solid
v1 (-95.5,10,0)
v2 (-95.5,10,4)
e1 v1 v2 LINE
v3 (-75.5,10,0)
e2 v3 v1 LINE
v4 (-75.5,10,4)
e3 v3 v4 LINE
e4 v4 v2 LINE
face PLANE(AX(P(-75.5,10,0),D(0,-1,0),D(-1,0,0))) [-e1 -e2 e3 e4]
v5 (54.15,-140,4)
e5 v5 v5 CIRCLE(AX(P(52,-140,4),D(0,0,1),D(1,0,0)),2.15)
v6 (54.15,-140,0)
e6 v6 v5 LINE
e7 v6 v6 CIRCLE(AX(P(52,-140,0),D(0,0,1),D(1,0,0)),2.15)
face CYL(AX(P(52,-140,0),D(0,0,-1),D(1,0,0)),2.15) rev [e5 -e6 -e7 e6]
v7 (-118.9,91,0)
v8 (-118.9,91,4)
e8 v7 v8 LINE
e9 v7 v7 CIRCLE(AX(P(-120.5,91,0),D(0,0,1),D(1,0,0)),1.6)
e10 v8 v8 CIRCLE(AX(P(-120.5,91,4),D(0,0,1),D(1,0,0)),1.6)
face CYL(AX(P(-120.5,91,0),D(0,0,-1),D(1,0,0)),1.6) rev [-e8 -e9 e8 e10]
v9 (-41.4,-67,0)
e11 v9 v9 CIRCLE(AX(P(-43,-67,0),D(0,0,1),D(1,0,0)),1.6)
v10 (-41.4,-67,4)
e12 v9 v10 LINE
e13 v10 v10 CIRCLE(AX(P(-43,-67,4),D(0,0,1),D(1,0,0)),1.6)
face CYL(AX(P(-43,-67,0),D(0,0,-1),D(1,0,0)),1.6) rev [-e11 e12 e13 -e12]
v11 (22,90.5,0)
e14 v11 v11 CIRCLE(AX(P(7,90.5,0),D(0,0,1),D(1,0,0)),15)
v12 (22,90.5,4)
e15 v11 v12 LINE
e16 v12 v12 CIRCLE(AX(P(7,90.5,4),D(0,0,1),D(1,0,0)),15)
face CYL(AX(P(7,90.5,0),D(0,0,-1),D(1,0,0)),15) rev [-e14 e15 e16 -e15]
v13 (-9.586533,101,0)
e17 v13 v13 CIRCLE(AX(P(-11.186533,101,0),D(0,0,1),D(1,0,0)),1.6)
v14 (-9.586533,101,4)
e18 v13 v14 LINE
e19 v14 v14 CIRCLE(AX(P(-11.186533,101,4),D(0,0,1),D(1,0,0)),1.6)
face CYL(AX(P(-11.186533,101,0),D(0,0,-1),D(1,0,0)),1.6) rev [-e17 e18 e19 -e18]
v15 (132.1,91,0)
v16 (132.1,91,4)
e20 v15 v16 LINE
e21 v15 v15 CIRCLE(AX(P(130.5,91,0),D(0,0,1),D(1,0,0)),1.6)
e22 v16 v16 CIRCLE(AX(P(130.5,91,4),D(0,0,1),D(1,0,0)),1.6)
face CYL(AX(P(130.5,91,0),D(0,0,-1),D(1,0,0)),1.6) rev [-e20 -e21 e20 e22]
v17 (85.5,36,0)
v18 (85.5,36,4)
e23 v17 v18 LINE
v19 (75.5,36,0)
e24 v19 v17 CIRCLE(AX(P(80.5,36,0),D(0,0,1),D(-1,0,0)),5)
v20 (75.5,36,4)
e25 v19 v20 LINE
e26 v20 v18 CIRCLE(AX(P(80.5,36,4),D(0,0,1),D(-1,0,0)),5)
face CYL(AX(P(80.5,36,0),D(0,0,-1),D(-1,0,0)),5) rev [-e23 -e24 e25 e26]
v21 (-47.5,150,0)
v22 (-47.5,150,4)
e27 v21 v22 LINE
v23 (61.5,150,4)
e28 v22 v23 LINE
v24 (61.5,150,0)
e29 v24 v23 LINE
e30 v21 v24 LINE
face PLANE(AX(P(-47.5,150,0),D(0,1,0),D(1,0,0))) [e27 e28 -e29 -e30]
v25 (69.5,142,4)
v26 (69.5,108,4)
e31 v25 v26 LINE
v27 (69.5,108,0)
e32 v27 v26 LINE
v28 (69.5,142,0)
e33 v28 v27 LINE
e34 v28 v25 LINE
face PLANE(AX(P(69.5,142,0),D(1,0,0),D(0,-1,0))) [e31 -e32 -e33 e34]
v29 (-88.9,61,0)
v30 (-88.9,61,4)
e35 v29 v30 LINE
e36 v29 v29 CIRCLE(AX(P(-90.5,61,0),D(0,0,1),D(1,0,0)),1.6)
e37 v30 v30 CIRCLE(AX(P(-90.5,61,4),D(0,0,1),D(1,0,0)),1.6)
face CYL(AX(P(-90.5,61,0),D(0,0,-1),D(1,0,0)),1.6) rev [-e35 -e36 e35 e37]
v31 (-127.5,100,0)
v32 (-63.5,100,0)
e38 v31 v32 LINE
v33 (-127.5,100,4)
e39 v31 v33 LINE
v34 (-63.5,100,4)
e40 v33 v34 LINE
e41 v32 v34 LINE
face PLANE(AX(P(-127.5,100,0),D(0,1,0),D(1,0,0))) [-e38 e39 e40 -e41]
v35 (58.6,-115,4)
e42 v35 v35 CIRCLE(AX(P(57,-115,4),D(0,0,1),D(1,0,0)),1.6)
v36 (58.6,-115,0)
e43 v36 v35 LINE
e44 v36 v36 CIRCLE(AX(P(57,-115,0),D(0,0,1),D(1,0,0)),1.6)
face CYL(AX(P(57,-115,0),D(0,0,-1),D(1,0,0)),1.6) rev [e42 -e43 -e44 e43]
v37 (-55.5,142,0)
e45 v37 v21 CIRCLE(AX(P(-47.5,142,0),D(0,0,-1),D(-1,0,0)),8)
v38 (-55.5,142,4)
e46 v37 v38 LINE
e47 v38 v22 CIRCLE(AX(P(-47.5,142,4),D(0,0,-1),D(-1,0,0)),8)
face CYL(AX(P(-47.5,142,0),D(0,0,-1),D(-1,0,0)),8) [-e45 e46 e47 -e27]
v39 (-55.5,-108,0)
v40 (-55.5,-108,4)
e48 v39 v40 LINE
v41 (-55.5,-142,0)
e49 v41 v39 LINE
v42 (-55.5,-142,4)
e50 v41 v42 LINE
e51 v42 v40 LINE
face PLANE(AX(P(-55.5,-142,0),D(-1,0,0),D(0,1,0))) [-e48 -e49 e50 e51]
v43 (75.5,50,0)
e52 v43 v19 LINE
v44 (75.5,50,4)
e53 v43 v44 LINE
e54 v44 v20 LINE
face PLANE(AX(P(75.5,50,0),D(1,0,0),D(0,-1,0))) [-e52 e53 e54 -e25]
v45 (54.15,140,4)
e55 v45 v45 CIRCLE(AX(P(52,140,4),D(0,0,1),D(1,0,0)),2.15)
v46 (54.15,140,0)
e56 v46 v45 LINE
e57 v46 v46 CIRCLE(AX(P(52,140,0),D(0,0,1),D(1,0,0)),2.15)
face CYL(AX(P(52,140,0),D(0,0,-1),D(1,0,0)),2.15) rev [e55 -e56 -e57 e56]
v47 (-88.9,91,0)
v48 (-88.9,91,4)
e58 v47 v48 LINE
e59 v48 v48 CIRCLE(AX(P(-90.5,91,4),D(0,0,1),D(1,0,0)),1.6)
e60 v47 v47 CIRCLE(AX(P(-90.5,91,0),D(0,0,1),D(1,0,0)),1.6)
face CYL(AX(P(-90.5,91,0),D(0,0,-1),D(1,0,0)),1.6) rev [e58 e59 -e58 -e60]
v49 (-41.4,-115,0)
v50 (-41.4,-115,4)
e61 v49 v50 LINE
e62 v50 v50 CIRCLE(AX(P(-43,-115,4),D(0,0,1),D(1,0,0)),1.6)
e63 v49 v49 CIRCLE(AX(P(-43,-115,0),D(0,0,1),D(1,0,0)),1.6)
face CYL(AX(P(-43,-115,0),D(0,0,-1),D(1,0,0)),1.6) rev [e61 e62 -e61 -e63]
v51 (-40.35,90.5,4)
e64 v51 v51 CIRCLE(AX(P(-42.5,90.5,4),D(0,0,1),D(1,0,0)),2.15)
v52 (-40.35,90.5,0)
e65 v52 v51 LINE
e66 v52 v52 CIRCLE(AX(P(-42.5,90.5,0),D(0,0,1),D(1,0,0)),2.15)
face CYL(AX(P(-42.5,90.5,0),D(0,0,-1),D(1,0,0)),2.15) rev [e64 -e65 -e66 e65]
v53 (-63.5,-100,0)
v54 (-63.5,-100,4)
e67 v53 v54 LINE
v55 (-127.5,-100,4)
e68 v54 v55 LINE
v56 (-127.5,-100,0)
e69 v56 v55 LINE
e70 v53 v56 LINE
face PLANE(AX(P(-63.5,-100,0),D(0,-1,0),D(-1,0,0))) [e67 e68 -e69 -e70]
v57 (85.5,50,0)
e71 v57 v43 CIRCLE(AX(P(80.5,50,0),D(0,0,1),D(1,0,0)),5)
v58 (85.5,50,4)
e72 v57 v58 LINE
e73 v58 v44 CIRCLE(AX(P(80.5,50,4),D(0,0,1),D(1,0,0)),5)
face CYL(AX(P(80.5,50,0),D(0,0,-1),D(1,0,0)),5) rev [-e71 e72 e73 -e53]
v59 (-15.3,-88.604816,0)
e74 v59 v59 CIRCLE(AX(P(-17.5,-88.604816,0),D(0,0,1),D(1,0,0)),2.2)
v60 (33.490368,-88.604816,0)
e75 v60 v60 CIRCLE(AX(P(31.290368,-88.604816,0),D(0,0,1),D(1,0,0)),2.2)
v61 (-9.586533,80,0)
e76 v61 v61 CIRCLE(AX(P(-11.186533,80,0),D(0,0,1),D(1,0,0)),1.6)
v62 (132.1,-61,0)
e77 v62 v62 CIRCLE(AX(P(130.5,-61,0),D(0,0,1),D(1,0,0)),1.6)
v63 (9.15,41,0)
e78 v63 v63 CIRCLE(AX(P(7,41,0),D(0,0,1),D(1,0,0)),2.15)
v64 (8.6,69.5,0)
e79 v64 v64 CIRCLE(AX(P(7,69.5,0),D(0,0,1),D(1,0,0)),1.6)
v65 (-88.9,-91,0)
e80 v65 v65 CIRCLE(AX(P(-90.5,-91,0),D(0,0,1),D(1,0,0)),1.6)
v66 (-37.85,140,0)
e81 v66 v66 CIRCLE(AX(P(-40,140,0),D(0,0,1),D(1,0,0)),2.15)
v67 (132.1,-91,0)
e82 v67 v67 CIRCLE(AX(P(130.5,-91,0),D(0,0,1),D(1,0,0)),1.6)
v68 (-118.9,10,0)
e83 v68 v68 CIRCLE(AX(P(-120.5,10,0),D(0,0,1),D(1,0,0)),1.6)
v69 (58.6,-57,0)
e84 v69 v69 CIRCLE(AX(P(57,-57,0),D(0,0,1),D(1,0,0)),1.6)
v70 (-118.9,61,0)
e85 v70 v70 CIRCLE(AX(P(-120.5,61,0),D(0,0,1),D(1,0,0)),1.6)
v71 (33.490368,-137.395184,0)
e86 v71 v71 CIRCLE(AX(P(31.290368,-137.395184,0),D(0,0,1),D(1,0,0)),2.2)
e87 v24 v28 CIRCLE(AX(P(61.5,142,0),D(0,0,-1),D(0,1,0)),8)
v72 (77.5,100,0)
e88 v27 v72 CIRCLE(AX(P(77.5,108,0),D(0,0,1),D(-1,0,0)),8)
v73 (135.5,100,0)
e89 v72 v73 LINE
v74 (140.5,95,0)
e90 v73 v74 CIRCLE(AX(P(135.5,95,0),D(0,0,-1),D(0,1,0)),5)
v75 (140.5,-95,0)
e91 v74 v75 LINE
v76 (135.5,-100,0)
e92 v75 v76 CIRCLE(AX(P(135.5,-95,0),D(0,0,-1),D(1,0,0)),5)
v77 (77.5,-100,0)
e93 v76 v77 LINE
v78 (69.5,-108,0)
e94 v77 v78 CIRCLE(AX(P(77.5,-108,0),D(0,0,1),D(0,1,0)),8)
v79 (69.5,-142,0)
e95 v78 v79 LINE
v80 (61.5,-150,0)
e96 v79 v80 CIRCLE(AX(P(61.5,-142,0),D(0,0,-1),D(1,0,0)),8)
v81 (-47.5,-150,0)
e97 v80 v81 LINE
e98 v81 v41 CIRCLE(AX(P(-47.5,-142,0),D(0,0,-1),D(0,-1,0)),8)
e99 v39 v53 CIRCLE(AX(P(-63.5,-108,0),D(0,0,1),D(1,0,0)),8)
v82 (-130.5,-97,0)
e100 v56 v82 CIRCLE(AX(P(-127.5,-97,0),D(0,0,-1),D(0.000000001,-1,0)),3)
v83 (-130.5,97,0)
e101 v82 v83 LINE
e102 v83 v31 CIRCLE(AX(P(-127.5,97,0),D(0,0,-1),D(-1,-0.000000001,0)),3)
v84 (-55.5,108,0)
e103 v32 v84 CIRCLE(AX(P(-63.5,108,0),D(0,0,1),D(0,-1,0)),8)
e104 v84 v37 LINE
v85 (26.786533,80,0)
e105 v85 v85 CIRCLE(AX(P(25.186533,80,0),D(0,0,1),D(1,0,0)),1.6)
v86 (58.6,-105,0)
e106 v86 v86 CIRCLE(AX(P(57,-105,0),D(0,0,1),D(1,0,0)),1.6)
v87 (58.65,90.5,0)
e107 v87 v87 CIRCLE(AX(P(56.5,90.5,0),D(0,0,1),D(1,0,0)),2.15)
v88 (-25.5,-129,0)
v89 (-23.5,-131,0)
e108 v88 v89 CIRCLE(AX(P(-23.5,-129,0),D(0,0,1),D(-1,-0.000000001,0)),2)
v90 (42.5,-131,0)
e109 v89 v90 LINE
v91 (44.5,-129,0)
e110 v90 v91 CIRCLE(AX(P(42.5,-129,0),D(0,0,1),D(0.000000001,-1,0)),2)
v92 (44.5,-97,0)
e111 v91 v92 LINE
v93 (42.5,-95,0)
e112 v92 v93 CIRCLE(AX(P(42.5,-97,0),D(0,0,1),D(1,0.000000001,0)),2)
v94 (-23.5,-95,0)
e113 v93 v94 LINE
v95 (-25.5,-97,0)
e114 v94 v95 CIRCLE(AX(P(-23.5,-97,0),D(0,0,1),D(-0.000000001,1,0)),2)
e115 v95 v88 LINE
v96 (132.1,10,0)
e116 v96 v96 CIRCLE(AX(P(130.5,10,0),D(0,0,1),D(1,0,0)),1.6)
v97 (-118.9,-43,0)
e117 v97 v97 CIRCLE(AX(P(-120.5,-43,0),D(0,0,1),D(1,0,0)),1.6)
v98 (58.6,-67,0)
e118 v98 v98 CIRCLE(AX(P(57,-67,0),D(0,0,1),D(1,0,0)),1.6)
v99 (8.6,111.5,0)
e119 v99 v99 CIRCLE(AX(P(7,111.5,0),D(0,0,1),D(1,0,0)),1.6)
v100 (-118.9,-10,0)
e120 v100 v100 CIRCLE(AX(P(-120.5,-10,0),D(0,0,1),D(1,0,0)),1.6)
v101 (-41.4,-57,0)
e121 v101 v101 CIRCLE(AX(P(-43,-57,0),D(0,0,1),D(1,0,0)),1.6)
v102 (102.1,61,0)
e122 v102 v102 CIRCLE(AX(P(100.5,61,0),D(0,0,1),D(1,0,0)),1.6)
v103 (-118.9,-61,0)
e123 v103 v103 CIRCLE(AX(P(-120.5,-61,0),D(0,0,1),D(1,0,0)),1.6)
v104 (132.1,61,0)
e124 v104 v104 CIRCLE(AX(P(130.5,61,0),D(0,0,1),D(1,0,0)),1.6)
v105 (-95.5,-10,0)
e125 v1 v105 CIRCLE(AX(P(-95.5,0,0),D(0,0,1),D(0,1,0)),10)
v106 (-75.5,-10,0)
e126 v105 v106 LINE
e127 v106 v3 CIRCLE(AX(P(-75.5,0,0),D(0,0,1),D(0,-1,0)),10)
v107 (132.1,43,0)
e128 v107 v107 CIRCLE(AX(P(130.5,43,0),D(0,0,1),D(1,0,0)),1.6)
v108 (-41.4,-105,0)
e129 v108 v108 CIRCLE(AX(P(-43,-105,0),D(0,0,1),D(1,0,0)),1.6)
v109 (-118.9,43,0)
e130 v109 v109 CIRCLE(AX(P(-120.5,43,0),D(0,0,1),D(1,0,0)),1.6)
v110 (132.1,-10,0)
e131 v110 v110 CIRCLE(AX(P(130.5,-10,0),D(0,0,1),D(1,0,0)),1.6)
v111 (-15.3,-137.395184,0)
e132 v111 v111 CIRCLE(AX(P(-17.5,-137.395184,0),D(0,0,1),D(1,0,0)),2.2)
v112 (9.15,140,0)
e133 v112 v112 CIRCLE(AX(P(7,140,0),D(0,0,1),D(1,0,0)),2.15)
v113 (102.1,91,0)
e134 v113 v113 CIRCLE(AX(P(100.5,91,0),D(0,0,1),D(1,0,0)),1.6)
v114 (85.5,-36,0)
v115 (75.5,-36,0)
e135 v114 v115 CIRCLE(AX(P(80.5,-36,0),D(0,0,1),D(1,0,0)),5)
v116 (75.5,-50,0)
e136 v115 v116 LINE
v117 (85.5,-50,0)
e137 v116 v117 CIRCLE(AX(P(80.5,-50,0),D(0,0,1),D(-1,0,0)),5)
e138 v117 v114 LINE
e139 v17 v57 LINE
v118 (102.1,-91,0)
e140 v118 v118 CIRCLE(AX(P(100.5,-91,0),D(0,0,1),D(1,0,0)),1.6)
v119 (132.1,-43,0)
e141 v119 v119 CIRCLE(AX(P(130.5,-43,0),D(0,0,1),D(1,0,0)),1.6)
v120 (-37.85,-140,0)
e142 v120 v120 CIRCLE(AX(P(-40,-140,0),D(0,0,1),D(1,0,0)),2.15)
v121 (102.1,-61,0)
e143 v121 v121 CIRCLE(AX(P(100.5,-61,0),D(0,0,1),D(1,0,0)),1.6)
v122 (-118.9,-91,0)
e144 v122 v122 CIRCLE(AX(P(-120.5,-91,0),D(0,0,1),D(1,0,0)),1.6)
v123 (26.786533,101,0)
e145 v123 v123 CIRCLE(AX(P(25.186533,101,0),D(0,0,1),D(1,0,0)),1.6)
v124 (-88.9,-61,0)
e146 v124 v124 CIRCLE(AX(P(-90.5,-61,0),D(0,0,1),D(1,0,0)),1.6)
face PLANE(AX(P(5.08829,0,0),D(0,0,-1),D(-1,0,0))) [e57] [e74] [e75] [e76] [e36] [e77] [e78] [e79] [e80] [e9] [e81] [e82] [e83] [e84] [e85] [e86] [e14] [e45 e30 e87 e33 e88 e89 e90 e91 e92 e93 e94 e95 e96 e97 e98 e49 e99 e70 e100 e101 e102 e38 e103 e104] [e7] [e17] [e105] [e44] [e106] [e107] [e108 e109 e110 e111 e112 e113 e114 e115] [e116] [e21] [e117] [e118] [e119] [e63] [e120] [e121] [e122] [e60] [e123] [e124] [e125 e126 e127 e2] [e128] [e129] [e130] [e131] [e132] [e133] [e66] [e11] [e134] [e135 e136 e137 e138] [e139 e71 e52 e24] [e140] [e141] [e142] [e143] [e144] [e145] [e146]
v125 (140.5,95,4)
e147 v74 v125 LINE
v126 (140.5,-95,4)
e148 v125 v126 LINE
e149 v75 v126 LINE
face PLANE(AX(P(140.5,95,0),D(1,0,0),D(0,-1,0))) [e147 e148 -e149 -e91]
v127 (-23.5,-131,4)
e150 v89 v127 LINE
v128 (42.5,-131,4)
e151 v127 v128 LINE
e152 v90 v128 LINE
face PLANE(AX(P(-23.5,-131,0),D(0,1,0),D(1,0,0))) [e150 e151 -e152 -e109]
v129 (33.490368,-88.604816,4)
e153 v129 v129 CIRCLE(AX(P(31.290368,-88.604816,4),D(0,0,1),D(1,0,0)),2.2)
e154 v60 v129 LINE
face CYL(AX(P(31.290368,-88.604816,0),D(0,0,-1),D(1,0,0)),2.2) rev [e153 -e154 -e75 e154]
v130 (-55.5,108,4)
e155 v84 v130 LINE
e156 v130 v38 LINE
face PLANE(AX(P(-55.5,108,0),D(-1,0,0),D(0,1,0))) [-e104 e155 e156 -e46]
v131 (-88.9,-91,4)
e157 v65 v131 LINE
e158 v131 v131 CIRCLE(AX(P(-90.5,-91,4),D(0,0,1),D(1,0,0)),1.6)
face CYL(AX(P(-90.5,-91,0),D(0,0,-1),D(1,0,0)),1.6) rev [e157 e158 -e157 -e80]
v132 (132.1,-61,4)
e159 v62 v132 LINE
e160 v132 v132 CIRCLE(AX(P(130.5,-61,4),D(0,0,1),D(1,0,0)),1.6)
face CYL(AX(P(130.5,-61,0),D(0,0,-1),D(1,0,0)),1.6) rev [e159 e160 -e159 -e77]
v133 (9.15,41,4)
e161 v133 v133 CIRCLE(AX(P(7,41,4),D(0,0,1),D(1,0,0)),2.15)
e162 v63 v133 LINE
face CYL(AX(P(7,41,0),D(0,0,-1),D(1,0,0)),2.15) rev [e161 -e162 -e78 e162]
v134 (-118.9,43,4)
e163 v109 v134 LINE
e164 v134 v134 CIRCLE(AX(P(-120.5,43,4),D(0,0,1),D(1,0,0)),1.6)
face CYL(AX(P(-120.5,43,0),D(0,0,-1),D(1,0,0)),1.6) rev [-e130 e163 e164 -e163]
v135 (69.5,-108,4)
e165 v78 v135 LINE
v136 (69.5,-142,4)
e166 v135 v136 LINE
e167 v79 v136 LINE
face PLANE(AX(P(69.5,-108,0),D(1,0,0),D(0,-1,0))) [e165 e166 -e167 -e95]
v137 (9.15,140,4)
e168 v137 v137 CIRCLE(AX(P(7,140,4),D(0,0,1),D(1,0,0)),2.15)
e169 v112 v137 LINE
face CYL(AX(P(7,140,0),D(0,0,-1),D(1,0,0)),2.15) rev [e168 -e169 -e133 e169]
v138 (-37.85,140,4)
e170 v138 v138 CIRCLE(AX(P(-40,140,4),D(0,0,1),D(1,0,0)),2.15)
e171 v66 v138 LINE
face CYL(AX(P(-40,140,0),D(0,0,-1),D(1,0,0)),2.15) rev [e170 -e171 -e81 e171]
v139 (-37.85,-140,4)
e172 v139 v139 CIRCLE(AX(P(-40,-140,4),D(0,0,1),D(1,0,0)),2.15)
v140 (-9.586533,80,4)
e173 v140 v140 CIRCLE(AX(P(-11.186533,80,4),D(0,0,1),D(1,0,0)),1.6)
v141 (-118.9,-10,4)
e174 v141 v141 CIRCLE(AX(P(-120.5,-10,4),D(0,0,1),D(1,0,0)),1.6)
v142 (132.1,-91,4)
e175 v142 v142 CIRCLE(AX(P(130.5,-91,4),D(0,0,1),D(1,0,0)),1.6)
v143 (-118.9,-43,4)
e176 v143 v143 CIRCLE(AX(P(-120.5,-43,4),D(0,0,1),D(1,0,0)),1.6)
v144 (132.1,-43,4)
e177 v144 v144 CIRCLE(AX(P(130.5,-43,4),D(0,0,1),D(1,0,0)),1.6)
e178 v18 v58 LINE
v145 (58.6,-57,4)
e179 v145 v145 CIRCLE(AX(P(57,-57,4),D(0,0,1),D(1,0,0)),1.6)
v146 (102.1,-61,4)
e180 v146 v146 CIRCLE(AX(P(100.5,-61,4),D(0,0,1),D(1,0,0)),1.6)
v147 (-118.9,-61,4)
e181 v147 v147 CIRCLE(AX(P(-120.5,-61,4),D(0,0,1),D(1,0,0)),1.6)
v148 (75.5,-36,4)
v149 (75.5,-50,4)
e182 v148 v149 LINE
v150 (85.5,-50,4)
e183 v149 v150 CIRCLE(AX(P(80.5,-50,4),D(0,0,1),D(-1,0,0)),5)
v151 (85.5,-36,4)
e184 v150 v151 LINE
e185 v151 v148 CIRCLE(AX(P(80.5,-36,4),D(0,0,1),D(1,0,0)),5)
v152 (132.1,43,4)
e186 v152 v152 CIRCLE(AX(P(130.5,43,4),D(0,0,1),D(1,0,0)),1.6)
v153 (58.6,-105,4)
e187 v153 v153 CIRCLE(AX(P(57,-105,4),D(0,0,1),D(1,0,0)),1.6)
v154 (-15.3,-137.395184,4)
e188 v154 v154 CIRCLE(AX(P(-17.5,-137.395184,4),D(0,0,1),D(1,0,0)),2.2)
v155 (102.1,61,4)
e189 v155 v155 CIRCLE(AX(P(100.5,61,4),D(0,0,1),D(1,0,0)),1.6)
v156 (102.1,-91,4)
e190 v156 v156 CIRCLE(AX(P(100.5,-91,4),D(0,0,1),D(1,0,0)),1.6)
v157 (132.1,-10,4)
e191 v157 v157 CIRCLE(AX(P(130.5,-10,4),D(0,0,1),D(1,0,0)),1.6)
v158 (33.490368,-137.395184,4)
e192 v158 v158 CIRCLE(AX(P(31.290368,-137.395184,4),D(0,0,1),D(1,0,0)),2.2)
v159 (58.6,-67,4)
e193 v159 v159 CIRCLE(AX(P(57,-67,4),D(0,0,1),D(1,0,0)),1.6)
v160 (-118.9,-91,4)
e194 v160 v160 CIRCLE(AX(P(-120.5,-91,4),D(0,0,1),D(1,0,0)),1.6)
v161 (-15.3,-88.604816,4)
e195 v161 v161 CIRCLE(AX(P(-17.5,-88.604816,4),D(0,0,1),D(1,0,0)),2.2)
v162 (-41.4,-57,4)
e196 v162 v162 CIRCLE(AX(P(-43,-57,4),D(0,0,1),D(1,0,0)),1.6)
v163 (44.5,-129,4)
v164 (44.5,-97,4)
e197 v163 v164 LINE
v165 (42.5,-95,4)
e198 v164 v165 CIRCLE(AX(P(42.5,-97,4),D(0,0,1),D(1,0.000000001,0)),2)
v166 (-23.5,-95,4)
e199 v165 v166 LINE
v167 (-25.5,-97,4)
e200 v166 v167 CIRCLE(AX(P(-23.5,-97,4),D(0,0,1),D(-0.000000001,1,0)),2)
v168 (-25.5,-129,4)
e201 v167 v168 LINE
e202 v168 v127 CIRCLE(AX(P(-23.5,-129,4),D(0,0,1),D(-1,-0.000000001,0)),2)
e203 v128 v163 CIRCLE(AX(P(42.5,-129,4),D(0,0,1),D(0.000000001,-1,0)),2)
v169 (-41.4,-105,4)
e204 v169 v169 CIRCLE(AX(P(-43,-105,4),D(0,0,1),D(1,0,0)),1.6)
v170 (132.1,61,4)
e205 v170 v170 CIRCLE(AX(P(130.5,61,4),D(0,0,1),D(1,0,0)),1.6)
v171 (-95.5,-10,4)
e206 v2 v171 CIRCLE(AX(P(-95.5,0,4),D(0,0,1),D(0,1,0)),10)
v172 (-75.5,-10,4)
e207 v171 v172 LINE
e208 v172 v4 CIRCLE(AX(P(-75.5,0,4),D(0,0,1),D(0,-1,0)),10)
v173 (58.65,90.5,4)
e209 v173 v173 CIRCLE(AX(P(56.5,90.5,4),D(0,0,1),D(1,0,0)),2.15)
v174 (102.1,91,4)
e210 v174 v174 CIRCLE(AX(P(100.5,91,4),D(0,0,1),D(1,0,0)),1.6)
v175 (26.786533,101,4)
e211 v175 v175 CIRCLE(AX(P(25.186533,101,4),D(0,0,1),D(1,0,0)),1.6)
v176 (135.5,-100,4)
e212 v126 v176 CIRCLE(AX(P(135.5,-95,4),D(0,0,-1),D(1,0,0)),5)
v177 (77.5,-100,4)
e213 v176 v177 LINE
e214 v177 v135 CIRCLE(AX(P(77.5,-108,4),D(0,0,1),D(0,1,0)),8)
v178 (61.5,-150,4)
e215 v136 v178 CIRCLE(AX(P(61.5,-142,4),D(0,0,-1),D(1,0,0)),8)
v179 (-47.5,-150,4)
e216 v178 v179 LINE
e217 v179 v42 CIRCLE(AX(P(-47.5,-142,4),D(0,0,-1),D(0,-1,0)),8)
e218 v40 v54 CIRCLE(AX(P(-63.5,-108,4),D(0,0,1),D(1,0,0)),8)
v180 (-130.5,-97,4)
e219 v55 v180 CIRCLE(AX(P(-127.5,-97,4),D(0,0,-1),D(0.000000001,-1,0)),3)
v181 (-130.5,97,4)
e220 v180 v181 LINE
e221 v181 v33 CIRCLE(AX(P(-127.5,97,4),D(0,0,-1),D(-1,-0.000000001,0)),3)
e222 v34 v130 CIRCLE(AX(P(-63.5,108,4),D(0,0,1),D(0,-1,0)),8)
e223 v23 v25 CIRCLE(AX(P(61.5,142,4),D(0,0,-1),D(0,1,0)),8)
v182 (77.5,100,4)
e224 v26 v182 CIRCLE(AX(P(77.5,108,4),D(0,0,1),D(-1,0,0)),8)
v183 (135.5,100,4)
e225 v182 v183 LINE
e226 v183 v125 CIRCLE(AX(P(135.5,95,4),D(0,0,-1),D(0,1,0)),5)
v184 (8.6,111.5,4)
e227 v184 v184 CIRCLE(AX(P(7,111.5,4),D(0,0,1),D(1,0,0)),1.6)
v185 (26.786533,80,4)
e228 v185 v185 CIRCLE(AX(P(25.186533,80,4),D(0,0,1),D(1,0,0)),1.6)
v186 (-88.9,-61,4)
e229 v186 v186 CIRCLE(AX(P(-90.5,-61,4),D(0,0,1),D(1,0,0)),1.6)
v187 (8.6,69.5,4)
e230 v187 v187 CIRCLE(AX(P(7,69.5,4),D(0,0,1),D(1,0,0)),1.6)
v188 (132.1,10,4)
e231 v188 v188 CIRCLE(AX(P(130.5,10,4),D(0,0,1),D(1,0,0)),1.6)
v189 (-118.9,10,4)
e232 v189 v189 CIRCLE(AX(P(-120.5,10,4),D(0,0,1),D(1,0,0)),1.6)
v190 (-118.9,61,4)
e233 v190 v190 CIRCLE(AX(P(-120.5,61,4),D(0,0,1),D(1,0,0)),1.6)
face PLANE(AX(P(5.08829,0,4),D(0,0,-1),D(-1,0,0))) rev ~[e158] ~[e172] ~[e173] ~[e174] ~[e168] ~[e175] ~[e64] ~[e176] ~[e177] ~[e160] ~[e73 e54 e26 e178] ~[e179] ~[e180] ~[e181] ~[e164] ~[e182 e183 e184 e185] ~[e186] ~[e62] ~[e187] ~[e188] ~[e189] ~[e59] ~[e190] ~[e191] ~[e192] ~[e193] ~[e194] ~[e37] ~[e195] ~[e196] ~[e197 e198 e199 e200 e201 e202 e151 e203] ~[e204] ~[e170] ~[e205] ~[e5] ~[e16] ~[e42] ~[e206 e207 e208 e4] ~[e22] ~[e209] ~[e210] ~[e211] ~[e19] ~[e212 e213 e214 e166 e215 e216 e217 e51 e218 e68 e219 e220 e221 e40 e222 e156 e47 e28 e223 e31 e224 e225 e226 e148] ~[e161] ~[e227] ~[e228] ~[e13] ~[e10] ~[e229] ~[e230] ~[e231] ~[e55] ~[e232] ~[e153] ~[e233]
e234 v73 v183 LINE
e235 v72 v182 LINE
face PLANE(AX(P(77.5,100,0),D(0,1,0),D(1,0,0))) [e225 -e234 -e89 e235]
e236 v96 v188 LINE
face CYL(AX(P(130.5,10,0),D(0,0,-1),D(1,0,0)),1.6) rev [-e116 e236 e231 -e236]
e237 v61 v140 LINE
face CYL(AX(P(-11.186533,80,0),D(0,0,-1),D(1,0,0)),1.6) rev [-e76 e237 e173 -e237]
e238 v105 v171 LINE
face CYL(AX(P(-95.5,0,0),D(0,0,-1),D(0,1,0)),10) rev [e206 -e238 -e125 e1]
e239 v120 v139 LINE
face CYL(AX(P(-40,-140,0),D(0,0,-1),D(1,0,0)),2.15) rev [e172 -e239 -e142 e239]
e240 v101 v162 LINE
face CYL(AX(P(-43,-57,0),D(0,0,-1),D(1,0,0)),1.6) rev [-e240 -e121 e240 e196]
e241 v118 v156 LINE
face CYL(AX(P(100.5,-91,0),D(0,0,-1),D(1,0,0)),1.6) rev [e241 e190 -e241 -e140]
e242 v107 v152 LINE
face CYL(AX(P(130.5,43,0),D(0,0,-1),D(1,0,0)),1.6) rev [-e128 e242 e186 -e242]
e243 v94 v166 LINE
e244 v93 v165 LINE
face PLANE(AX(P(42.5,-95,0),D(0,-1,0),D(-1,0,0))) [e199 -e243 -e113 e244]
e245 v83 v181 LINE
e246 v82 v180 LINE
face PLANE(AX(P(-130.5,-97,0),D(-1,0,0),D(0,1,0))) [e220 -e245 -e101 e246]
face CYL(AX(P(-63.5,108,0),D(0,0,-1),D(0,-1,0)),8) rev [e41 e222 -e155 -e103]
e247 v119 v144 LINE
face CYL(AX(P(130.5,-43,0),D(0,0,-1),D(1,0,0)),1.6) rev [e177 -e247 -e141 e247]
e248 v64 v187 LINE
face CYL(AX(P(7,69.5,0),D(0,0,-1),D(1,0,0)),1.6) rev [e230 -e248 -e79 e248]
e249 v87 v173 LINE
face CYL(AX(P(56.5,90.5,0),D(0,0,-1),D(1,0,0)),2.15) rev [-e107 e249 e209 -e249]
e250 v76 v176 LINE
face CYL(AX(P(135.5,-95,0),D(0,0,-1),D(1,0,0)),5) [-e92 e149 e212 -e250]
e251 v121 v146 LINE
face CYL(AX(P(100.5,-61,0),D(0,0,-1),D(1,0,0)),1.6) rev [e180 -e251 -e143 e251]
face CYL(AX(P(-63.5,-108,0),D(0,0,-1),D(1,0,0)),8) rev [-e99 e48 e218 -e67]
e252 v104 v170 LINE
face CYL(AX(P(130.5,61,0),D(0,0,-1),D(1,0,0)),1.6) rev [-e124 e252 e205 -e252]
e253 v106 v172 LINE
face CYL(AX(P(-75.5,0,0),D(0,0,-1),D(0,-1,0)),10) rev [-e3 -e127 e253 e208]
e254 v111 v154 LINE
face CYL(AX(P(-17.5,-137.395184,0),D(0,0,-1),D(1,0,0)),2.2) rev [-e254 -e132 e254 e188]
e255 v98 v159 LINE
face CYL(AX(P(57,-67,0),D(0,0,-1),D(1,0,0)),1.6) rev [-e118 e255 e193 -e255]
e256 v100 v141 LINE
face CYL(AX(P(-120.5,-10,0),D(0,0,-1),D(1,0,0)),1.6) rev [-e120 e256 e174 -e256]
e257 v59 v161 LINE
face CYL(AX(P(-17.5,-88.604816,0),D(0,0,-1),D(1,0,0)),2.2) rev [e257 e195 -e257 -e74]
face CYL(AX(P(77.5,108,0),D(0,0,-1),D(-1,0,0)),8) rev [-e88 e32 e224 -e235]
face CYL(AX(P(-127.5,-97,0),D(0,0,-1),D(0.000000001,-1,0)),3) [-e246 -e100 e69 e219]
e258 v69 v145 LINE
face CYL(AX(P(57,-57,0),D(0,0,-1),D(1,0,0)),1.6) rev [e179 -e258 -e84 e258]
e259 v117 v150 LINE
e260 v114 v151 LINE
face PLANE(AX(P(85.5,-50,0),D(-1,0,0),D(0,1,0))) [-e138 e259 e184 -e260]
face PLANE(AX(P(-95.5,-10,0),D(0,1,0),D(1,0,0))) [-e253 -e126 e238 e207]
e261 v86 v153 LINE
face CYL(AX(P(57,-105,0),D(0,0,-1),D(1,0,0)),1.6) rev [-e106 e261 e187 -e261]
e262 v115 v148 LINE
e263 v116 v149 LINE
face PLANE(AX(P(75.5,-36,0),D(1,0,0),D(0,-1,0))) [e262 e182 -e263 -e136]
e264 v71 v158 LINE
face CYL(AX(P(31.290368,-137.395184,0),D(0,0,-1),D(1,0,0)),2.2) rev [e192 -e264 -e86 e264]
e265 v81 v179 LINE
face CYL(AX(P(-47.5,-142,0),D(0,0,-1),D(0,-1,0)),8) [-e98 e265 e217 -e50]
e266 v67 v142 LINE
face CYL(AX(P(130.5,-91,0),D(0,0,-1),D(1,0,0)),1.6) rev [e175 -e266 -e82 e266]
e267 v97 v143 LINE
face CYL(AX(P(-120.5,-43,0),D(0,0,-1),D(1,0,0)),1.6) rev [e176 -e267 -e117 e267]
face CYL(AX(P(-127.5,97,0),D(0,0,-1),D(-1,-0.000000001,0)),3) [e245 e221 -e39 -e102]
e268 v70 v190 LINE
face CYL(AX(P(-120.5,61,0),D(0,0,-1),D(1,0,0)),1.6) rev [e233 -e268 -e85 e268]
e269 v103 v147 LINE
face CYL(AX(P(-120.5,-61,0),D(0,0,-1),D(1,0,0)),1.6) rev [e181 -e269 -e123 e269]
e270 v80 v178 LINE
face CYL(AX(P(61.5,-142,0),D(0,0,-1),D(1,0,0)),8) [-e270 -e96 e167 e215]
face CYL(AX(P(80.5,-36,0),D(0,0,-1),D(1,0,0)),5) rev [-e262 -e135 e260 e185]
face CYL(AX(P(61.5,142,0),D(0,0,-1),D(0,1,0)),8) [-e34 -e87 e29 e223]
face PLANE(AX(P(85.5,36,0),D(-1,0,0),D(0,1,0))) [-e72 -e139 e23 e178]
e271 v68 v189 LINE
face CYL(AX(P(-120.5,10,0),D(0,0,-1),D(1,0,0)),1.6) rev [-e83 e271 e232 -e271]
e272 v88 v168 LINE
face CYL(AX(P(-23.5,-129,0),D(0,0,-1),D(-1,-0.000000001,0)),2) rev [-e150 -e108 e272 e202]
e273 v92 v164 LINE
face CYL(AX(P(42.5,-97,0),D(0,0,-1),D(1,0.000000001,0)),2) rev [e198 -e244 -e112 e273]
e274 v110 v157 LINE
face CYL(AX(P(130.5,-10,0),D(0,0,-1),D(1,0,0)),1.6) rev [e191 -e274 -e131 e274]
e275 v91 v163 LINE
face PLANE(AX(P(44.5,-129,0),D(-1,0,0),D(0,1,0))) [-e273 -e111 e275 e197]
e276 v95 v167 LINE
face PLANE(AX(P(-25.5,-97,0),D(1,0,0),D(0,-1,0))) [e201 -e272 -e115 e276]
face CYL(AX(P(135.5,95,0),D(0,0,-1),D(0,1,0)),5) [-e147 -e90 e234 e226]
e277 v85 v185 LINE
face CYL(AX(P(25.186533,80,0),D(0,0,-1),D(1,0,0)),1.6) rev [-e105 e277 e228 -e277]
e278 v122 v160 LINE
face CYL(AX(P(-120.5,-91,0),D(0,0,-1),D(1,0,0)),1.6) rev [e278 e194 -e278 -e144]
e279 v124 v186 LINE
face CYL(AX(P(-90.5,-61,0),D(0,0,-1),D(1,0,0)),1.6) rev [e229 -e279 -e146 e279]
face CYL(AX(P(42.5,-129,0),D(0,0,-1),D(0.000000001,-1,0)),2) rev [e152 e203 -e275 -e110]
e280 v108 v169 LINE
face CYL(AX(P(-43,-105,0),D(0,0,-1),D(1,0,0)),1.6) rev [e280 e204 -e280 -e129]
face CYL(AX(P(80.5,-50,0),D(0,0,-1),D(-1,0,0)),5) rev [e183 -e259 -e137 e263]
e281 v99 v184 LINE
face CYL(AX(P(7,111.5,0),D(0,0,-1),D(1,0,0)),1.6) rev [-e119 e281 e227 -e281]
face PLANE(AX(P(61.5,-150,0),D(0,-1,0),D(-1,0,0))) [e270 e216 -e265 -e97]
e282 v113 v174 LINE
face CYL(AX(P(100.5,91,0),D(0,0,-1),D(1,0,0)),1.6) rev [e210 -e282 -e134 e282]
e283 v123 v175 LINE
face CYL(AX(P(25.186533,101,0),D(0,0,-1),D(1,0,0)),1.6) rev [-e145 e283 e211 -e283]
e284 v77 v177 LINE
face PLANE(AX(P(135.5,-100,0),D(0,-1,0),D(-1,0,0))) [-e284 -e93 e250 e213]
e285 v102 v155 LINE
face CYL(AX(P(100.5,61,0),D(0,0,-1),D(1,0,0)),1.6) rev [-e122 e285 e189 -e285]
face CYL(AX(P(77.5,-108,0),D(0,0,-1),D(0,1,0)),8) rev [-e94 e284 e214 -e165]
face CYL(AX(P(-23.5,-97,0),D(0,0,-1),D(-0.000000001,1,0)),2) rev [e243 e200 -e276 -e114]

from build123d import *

# Parameters (mm, degrees)
SKETCH_281X300_25_R   = 1.6
SKETCH_281X300_25_R_2 = 15
SKETCH_281X300_25_R_3 = 2.15
SKETCH_281X300_25_R_4 = 2.2
F_4MM_DEPTH           = 4


with BuildPart() as part:
    # 底板轮廓_281x300_安装孔外移25 → 凸台拉伸_4mm (new body)
    with BuildSketch(Plane.XY):
        with BuildLine():
            Line((-55.5, 108), (-55.5, 142))
            ThreePointArc((-55.5, 142), (-53.156854249, 147.656854249), (-47.5, 150))
            Line((-47.5, 150), (61.5, 150))
            ThreePointArc((61.5, 150), (67.156854249, 147.656854249), (69.5, 142))
            Line((69.5, 142), (69.5, 108))
            ThreePointArc((69.5, 108), (71.843145751, 102.343145751), (77.5, 100))
            Line((77.5, 100), (135.5, 100))
            ThreePointArc((135.5, 100), (139.035533906, 98.535533906), (140.5, 95))
            Line((140.5, 95), (140.5, -95))
            ThreePointArc((140.5, -95), (139.035533906, -98.535533906), (135.5, -100))
            Line((135.5, -100), (77.5, -100))
            ThreePointArc((77.5, -100), (71.843145751, -102.343145751), (69.5, -108))
            Line((69.5, -108), (69.5, -142))
            ThreePointArc((69.5, -142), (67.156854249, -147.656854249), (61.5, -150))
            Line((61.5, -150), (-47.5, -150))
            ThreePointArc((-47.5, -150), (-53.156854249, -147.656854249), (-55.5, -142))
            Line((-55.5, -142), (-55.5, -108))
            ThreePointArc((-55.5, -108), (-57.843145751, -102.343145751), (-63.5, -100))
            Line((-63.5, -100), (-127.5, -100))
            ThreePointArc((-127.5, -100), (-129.621320344, -99.121320344), (-130.5, -97))
            Line((-130.5, -97), (-130.5, -13))
            Line((-130.5, -13), (-130.5, 97))
            ThreePointArc((-130.5, 97), (-129.621320344, 99.121320344), (-127.5, 100))
            Line((-127.5, 100), (-63.5, 100))
            ThreePointArc((-63.5, 100), (-57.843145751, 102.343145751), (-55.5, 108))
        make_face()
        with Locations((100.5, -61)):
            Circle(SKETCH_281X300_25_R, mode=Mode.SUBTRACT)
        with Locations((130.5, -61)):
            Circle(SKETCH_281X300_25_R, mode=Mode.SUBTRACT)
        with Locations((100.5, 61)):
            Circle(SKETCH_281X300_25_R, mode=Mode.SUBTRACT)
        with Locations((7, 90.5)):
            Circle(SKETCH_281X300_25_R_2, mode=Mode.SUBTRACT)
        with Locations((7, 140)):
            Circle(SKETCH_281X300_25_R_3, mode=Mode.SUBTRACT)
        with Locations((-42.5, 90.5)):
            Circle(SKETCH_281X300_25_R_3, mode=Mode.SUBTRACT)
        with Locations((56.5, 90.5)):
            Circle(SKETCH_281X300_25_R_3, mode=Mode.SUBTRACT)
        with Locations((-40, 140)):
            Circle(SKETCH_281X300_25_R_3, mode=Mode.SUBTRACT)
        with Locations((130.5, 61)):
            Circle(SKETCH_281X300_25_R, mode=Mode.SUBTRACT)
        with Locations((7, 41)):
            Circle(SKETCH_281X300_25_R_3, mode=Mode.SUBTRACT)
        with Locations((31.290367902, -137.395183951)):
            Circle(SKETCH_281X300_25_R_4, mode=Mode.SUBTRACT)
        with Locations((-17.5, -137.395183951)):
            Circle(SKETCH_281X300_25_R_4, mode=Mode.SUBTRACT)
        with Locations((-17.5, -88.604816049)):
            Circle(SKETCH_281X300_25_R_4, mode=Mode.SUBTRACT)
        with Locations((31.290367902, -88.604816049)):
            Circle(SKETCH_281X300_25_R_4, mode=Mode.SUBTRACT)
        with Locations((7, 111.5)):
            Circle(SKETCH_281X300_25_R, mode=Mode.SUBTRACT)
        with Locations((25.186533479, 101)):
            Circle(SKETCH_281X300_25_R, mode=Mode.SUBTRACT)
        with Locations((100.5, -91)):
            Circle(SKETCH_281X300_25_R, mode=Mode.SUBTRACT)
        with Locations((25.186533479, 80)):
            Circle(SKETCH_281X300_25_R, mode=Mode.SUBTRACT)
        with Locations((100.5, 91)):
            Circle(SKETCH_281X300_25_R, mode=Mode.SUBTRACT)
        with Locations((7, 69.5)):
            Circle(SKETCH_281X300_25_R, mode=Mode.SUBTRACT)
        with Locations((130.5, 91)):
            Circle(SKETCH_281X300_25_R, mode=Mode.SUBTRACT)
        with Locations((130.5, -91)):
            Circle(SKETCH_281X300_25_R, mode=Mode.SUBTRACT)
        with Locations((-43, -105)):
            Circle(SKETCH_281X300_25_R, mode=Mode.SUBTRACT)
        with Locations((57, -57)):
            Circle(SKETCH_281X300_25_R, mode=Mode.SUBTRACT)
        with Locations((-43, -57)):
            Circle(SKETCH_281X300_25_R, mode=Mode.SUBTRACT)
        with Locations((57, -105)):
            Circle(SKETCH_281X300_25_R, mode=Mode.SUBTRACT)
        with Locations((-11.186533479, 80)):
            Circle(SKETCH_281X300_25_R, mode=Mode.SUBTRACT)
        with Locations((-11.186533479, 101)):
            Circle(SKETCH_281X300_25_R, mode=Mode.SUBTRACT)
        with Locations((130.5, 10)):
            Circle(SKETCH_281X300_25_R, mode=Mode.SUBTRACT)
        with Locations((130.5, -10)):
            Circle(SKETCH_281X300_25_R, mode=Mode.SUBTRACT)
        with Locations((-120.5, 10)):
            Circle(SKETCH_281X300_25_R, mode=Mode.SUBTRACT)
        with Locations((-120.5, -10)):
            Circle(SKETCH_281X300_25_R, mode=Mode.SUBTRACT)
        with Locations((-43, -115)):
            Circle(SKETCH_281X300_25_R, mode=Mode.SUBTRACT)
        with Locations((57, -67)):
            Circle(SKETCH_281X300_25_R, mode=Mode.SUBTRACT)
        with Locations((57, -115)):
            Circle(SKETCH_281X300_25_R, mode=Mode.SUBTRACT)
        with Locations((-43, -67)):
            Circle(SKETCH_281X300_25_R, mode=Mode.SUBTRACT)
        with Locations((-120.5, -91)):
            Circle(SKETCH_281X300_25_R, mode=Mode.SUBTRACT)
        with Locations((-90.5, -91)):
            Circle(SKETCH_281X300_25_R, mode=Mode.SUBTRACT)
        with Locations((-120.5, 91)):
            Circle(SKETCH_281X300_25_R, mode=Mode.SUBTRACT)
        with Locations((-90.5, 91)):
            Circle(SKETCH_281X300_25_R, mode=Mode.SUBTRACT)
        with Locations((-90.5, 61)):
            Circle(SKETCH_281X300_25_R, mode=Mode.SUBTRACT)
        with Locations((-120.5, 61)):
            Circle(SKETCH_281X300_25_R, mode=Mode.SUBTRACT)
        with Locations((-90.5, -61)):
            Circle(SKETCH_281X300_25_R, mode=Mode.SUBTRACT)
        with Locations((-120.5, -61)):
            Circle(SKETCH_281X300_25_R, mode=Mode.SUBTRACT)
        with Locations((130.5, 43)):
            Circle(SKETCH_281X300_25_R, mode=Mode.SUBTRACT)
        with Locations((130.5, -43)):
            Circle(SKETCH_281X300_25_R, mode=Mode.SUBTRACT)
        with Locations((-120.5, 43)):
            Circle(SKETCH_281X300_25_R, mode=Mode.SUBTRACT)
        with Locations((-120.5, -43)):
            Circle(SKETCH_281X300_25_R, mode=Mode.SUBTRACT)
        with Locations((52, 140)):
            Circle(SKETCH_281X300_25_R_3, mode=Mode.SUBTRACT)
        with Locations((-40, -140)):
            Circle(SKETCH_281X300_25_R_3, mode=Mode.SUBTRACT)
        with Locations((52, -140)):
            Circle(SKETCH_281X300_25_R_3, mode=Mode.SUBTRACT)
        with BuildLine():
            Line((-25.5, -97), (-25.5, -129))
            ThreePointArc((-25.5, -129), (-24.914213562, -130.414213562), (-23.5, -131))
            Line((-23.5, -131), (42.5, -131))
            ThreePointArc((42.5, -131), (43.914213562, -130.414213562), (44.5, -129))
            Line((44.5, -129), (44.5, -97))
            ThreePointArc((44.5, -97), (43.914213562, -95.585786438), (42.5, -95))
            Line((42.5, -95), (-23.5, -95))
            ThreePointArc((-23.5, -95), (-24.914213562, -95.585786438), (-25.5, -97))
        make_face(mode=Mode.SUBTRACT)
        with BuildLine():
            Line((75.5, 50), (75.5, 36))
            ThreePointArc((75.5, 36), (80.5, 31), (85.5, 36))
            Line((85.5, 36), (85.5, 50))
            ThreePointArc((85.5, 50), (80.5, 55), (75.5, 50))
        make_face(mode=Mode.SUBTRACT)
        with BuildLine():
            Line((85.5, -50), (85.5, -36))
            ThreePointArc((85.5, -36), (80.5, -31), (75.5, -36))
            Line((75.5, -36), (75.5, -50))
            ThreePointArc((75.5, -50), (80.5, -55), (85.5, -50))
        make_face(mode=Mode.SUBTRACT)
        with BuildLine():
            Line((-95.5, -10), (-75.5, -10))
            ThreePointArc((-75.5, -10), (-65.5, 0), (-75.5, 10))
            Line((-75.5, 10), (-95.5, 10))
            ThreePointArc((-95.5, 10), (-105.5, 0), (-95.5, -10))
        make_face(mode=Mode.SUBTRACT)
    extrude(amount=F_4MM_DEPTH)


solid = part.part
